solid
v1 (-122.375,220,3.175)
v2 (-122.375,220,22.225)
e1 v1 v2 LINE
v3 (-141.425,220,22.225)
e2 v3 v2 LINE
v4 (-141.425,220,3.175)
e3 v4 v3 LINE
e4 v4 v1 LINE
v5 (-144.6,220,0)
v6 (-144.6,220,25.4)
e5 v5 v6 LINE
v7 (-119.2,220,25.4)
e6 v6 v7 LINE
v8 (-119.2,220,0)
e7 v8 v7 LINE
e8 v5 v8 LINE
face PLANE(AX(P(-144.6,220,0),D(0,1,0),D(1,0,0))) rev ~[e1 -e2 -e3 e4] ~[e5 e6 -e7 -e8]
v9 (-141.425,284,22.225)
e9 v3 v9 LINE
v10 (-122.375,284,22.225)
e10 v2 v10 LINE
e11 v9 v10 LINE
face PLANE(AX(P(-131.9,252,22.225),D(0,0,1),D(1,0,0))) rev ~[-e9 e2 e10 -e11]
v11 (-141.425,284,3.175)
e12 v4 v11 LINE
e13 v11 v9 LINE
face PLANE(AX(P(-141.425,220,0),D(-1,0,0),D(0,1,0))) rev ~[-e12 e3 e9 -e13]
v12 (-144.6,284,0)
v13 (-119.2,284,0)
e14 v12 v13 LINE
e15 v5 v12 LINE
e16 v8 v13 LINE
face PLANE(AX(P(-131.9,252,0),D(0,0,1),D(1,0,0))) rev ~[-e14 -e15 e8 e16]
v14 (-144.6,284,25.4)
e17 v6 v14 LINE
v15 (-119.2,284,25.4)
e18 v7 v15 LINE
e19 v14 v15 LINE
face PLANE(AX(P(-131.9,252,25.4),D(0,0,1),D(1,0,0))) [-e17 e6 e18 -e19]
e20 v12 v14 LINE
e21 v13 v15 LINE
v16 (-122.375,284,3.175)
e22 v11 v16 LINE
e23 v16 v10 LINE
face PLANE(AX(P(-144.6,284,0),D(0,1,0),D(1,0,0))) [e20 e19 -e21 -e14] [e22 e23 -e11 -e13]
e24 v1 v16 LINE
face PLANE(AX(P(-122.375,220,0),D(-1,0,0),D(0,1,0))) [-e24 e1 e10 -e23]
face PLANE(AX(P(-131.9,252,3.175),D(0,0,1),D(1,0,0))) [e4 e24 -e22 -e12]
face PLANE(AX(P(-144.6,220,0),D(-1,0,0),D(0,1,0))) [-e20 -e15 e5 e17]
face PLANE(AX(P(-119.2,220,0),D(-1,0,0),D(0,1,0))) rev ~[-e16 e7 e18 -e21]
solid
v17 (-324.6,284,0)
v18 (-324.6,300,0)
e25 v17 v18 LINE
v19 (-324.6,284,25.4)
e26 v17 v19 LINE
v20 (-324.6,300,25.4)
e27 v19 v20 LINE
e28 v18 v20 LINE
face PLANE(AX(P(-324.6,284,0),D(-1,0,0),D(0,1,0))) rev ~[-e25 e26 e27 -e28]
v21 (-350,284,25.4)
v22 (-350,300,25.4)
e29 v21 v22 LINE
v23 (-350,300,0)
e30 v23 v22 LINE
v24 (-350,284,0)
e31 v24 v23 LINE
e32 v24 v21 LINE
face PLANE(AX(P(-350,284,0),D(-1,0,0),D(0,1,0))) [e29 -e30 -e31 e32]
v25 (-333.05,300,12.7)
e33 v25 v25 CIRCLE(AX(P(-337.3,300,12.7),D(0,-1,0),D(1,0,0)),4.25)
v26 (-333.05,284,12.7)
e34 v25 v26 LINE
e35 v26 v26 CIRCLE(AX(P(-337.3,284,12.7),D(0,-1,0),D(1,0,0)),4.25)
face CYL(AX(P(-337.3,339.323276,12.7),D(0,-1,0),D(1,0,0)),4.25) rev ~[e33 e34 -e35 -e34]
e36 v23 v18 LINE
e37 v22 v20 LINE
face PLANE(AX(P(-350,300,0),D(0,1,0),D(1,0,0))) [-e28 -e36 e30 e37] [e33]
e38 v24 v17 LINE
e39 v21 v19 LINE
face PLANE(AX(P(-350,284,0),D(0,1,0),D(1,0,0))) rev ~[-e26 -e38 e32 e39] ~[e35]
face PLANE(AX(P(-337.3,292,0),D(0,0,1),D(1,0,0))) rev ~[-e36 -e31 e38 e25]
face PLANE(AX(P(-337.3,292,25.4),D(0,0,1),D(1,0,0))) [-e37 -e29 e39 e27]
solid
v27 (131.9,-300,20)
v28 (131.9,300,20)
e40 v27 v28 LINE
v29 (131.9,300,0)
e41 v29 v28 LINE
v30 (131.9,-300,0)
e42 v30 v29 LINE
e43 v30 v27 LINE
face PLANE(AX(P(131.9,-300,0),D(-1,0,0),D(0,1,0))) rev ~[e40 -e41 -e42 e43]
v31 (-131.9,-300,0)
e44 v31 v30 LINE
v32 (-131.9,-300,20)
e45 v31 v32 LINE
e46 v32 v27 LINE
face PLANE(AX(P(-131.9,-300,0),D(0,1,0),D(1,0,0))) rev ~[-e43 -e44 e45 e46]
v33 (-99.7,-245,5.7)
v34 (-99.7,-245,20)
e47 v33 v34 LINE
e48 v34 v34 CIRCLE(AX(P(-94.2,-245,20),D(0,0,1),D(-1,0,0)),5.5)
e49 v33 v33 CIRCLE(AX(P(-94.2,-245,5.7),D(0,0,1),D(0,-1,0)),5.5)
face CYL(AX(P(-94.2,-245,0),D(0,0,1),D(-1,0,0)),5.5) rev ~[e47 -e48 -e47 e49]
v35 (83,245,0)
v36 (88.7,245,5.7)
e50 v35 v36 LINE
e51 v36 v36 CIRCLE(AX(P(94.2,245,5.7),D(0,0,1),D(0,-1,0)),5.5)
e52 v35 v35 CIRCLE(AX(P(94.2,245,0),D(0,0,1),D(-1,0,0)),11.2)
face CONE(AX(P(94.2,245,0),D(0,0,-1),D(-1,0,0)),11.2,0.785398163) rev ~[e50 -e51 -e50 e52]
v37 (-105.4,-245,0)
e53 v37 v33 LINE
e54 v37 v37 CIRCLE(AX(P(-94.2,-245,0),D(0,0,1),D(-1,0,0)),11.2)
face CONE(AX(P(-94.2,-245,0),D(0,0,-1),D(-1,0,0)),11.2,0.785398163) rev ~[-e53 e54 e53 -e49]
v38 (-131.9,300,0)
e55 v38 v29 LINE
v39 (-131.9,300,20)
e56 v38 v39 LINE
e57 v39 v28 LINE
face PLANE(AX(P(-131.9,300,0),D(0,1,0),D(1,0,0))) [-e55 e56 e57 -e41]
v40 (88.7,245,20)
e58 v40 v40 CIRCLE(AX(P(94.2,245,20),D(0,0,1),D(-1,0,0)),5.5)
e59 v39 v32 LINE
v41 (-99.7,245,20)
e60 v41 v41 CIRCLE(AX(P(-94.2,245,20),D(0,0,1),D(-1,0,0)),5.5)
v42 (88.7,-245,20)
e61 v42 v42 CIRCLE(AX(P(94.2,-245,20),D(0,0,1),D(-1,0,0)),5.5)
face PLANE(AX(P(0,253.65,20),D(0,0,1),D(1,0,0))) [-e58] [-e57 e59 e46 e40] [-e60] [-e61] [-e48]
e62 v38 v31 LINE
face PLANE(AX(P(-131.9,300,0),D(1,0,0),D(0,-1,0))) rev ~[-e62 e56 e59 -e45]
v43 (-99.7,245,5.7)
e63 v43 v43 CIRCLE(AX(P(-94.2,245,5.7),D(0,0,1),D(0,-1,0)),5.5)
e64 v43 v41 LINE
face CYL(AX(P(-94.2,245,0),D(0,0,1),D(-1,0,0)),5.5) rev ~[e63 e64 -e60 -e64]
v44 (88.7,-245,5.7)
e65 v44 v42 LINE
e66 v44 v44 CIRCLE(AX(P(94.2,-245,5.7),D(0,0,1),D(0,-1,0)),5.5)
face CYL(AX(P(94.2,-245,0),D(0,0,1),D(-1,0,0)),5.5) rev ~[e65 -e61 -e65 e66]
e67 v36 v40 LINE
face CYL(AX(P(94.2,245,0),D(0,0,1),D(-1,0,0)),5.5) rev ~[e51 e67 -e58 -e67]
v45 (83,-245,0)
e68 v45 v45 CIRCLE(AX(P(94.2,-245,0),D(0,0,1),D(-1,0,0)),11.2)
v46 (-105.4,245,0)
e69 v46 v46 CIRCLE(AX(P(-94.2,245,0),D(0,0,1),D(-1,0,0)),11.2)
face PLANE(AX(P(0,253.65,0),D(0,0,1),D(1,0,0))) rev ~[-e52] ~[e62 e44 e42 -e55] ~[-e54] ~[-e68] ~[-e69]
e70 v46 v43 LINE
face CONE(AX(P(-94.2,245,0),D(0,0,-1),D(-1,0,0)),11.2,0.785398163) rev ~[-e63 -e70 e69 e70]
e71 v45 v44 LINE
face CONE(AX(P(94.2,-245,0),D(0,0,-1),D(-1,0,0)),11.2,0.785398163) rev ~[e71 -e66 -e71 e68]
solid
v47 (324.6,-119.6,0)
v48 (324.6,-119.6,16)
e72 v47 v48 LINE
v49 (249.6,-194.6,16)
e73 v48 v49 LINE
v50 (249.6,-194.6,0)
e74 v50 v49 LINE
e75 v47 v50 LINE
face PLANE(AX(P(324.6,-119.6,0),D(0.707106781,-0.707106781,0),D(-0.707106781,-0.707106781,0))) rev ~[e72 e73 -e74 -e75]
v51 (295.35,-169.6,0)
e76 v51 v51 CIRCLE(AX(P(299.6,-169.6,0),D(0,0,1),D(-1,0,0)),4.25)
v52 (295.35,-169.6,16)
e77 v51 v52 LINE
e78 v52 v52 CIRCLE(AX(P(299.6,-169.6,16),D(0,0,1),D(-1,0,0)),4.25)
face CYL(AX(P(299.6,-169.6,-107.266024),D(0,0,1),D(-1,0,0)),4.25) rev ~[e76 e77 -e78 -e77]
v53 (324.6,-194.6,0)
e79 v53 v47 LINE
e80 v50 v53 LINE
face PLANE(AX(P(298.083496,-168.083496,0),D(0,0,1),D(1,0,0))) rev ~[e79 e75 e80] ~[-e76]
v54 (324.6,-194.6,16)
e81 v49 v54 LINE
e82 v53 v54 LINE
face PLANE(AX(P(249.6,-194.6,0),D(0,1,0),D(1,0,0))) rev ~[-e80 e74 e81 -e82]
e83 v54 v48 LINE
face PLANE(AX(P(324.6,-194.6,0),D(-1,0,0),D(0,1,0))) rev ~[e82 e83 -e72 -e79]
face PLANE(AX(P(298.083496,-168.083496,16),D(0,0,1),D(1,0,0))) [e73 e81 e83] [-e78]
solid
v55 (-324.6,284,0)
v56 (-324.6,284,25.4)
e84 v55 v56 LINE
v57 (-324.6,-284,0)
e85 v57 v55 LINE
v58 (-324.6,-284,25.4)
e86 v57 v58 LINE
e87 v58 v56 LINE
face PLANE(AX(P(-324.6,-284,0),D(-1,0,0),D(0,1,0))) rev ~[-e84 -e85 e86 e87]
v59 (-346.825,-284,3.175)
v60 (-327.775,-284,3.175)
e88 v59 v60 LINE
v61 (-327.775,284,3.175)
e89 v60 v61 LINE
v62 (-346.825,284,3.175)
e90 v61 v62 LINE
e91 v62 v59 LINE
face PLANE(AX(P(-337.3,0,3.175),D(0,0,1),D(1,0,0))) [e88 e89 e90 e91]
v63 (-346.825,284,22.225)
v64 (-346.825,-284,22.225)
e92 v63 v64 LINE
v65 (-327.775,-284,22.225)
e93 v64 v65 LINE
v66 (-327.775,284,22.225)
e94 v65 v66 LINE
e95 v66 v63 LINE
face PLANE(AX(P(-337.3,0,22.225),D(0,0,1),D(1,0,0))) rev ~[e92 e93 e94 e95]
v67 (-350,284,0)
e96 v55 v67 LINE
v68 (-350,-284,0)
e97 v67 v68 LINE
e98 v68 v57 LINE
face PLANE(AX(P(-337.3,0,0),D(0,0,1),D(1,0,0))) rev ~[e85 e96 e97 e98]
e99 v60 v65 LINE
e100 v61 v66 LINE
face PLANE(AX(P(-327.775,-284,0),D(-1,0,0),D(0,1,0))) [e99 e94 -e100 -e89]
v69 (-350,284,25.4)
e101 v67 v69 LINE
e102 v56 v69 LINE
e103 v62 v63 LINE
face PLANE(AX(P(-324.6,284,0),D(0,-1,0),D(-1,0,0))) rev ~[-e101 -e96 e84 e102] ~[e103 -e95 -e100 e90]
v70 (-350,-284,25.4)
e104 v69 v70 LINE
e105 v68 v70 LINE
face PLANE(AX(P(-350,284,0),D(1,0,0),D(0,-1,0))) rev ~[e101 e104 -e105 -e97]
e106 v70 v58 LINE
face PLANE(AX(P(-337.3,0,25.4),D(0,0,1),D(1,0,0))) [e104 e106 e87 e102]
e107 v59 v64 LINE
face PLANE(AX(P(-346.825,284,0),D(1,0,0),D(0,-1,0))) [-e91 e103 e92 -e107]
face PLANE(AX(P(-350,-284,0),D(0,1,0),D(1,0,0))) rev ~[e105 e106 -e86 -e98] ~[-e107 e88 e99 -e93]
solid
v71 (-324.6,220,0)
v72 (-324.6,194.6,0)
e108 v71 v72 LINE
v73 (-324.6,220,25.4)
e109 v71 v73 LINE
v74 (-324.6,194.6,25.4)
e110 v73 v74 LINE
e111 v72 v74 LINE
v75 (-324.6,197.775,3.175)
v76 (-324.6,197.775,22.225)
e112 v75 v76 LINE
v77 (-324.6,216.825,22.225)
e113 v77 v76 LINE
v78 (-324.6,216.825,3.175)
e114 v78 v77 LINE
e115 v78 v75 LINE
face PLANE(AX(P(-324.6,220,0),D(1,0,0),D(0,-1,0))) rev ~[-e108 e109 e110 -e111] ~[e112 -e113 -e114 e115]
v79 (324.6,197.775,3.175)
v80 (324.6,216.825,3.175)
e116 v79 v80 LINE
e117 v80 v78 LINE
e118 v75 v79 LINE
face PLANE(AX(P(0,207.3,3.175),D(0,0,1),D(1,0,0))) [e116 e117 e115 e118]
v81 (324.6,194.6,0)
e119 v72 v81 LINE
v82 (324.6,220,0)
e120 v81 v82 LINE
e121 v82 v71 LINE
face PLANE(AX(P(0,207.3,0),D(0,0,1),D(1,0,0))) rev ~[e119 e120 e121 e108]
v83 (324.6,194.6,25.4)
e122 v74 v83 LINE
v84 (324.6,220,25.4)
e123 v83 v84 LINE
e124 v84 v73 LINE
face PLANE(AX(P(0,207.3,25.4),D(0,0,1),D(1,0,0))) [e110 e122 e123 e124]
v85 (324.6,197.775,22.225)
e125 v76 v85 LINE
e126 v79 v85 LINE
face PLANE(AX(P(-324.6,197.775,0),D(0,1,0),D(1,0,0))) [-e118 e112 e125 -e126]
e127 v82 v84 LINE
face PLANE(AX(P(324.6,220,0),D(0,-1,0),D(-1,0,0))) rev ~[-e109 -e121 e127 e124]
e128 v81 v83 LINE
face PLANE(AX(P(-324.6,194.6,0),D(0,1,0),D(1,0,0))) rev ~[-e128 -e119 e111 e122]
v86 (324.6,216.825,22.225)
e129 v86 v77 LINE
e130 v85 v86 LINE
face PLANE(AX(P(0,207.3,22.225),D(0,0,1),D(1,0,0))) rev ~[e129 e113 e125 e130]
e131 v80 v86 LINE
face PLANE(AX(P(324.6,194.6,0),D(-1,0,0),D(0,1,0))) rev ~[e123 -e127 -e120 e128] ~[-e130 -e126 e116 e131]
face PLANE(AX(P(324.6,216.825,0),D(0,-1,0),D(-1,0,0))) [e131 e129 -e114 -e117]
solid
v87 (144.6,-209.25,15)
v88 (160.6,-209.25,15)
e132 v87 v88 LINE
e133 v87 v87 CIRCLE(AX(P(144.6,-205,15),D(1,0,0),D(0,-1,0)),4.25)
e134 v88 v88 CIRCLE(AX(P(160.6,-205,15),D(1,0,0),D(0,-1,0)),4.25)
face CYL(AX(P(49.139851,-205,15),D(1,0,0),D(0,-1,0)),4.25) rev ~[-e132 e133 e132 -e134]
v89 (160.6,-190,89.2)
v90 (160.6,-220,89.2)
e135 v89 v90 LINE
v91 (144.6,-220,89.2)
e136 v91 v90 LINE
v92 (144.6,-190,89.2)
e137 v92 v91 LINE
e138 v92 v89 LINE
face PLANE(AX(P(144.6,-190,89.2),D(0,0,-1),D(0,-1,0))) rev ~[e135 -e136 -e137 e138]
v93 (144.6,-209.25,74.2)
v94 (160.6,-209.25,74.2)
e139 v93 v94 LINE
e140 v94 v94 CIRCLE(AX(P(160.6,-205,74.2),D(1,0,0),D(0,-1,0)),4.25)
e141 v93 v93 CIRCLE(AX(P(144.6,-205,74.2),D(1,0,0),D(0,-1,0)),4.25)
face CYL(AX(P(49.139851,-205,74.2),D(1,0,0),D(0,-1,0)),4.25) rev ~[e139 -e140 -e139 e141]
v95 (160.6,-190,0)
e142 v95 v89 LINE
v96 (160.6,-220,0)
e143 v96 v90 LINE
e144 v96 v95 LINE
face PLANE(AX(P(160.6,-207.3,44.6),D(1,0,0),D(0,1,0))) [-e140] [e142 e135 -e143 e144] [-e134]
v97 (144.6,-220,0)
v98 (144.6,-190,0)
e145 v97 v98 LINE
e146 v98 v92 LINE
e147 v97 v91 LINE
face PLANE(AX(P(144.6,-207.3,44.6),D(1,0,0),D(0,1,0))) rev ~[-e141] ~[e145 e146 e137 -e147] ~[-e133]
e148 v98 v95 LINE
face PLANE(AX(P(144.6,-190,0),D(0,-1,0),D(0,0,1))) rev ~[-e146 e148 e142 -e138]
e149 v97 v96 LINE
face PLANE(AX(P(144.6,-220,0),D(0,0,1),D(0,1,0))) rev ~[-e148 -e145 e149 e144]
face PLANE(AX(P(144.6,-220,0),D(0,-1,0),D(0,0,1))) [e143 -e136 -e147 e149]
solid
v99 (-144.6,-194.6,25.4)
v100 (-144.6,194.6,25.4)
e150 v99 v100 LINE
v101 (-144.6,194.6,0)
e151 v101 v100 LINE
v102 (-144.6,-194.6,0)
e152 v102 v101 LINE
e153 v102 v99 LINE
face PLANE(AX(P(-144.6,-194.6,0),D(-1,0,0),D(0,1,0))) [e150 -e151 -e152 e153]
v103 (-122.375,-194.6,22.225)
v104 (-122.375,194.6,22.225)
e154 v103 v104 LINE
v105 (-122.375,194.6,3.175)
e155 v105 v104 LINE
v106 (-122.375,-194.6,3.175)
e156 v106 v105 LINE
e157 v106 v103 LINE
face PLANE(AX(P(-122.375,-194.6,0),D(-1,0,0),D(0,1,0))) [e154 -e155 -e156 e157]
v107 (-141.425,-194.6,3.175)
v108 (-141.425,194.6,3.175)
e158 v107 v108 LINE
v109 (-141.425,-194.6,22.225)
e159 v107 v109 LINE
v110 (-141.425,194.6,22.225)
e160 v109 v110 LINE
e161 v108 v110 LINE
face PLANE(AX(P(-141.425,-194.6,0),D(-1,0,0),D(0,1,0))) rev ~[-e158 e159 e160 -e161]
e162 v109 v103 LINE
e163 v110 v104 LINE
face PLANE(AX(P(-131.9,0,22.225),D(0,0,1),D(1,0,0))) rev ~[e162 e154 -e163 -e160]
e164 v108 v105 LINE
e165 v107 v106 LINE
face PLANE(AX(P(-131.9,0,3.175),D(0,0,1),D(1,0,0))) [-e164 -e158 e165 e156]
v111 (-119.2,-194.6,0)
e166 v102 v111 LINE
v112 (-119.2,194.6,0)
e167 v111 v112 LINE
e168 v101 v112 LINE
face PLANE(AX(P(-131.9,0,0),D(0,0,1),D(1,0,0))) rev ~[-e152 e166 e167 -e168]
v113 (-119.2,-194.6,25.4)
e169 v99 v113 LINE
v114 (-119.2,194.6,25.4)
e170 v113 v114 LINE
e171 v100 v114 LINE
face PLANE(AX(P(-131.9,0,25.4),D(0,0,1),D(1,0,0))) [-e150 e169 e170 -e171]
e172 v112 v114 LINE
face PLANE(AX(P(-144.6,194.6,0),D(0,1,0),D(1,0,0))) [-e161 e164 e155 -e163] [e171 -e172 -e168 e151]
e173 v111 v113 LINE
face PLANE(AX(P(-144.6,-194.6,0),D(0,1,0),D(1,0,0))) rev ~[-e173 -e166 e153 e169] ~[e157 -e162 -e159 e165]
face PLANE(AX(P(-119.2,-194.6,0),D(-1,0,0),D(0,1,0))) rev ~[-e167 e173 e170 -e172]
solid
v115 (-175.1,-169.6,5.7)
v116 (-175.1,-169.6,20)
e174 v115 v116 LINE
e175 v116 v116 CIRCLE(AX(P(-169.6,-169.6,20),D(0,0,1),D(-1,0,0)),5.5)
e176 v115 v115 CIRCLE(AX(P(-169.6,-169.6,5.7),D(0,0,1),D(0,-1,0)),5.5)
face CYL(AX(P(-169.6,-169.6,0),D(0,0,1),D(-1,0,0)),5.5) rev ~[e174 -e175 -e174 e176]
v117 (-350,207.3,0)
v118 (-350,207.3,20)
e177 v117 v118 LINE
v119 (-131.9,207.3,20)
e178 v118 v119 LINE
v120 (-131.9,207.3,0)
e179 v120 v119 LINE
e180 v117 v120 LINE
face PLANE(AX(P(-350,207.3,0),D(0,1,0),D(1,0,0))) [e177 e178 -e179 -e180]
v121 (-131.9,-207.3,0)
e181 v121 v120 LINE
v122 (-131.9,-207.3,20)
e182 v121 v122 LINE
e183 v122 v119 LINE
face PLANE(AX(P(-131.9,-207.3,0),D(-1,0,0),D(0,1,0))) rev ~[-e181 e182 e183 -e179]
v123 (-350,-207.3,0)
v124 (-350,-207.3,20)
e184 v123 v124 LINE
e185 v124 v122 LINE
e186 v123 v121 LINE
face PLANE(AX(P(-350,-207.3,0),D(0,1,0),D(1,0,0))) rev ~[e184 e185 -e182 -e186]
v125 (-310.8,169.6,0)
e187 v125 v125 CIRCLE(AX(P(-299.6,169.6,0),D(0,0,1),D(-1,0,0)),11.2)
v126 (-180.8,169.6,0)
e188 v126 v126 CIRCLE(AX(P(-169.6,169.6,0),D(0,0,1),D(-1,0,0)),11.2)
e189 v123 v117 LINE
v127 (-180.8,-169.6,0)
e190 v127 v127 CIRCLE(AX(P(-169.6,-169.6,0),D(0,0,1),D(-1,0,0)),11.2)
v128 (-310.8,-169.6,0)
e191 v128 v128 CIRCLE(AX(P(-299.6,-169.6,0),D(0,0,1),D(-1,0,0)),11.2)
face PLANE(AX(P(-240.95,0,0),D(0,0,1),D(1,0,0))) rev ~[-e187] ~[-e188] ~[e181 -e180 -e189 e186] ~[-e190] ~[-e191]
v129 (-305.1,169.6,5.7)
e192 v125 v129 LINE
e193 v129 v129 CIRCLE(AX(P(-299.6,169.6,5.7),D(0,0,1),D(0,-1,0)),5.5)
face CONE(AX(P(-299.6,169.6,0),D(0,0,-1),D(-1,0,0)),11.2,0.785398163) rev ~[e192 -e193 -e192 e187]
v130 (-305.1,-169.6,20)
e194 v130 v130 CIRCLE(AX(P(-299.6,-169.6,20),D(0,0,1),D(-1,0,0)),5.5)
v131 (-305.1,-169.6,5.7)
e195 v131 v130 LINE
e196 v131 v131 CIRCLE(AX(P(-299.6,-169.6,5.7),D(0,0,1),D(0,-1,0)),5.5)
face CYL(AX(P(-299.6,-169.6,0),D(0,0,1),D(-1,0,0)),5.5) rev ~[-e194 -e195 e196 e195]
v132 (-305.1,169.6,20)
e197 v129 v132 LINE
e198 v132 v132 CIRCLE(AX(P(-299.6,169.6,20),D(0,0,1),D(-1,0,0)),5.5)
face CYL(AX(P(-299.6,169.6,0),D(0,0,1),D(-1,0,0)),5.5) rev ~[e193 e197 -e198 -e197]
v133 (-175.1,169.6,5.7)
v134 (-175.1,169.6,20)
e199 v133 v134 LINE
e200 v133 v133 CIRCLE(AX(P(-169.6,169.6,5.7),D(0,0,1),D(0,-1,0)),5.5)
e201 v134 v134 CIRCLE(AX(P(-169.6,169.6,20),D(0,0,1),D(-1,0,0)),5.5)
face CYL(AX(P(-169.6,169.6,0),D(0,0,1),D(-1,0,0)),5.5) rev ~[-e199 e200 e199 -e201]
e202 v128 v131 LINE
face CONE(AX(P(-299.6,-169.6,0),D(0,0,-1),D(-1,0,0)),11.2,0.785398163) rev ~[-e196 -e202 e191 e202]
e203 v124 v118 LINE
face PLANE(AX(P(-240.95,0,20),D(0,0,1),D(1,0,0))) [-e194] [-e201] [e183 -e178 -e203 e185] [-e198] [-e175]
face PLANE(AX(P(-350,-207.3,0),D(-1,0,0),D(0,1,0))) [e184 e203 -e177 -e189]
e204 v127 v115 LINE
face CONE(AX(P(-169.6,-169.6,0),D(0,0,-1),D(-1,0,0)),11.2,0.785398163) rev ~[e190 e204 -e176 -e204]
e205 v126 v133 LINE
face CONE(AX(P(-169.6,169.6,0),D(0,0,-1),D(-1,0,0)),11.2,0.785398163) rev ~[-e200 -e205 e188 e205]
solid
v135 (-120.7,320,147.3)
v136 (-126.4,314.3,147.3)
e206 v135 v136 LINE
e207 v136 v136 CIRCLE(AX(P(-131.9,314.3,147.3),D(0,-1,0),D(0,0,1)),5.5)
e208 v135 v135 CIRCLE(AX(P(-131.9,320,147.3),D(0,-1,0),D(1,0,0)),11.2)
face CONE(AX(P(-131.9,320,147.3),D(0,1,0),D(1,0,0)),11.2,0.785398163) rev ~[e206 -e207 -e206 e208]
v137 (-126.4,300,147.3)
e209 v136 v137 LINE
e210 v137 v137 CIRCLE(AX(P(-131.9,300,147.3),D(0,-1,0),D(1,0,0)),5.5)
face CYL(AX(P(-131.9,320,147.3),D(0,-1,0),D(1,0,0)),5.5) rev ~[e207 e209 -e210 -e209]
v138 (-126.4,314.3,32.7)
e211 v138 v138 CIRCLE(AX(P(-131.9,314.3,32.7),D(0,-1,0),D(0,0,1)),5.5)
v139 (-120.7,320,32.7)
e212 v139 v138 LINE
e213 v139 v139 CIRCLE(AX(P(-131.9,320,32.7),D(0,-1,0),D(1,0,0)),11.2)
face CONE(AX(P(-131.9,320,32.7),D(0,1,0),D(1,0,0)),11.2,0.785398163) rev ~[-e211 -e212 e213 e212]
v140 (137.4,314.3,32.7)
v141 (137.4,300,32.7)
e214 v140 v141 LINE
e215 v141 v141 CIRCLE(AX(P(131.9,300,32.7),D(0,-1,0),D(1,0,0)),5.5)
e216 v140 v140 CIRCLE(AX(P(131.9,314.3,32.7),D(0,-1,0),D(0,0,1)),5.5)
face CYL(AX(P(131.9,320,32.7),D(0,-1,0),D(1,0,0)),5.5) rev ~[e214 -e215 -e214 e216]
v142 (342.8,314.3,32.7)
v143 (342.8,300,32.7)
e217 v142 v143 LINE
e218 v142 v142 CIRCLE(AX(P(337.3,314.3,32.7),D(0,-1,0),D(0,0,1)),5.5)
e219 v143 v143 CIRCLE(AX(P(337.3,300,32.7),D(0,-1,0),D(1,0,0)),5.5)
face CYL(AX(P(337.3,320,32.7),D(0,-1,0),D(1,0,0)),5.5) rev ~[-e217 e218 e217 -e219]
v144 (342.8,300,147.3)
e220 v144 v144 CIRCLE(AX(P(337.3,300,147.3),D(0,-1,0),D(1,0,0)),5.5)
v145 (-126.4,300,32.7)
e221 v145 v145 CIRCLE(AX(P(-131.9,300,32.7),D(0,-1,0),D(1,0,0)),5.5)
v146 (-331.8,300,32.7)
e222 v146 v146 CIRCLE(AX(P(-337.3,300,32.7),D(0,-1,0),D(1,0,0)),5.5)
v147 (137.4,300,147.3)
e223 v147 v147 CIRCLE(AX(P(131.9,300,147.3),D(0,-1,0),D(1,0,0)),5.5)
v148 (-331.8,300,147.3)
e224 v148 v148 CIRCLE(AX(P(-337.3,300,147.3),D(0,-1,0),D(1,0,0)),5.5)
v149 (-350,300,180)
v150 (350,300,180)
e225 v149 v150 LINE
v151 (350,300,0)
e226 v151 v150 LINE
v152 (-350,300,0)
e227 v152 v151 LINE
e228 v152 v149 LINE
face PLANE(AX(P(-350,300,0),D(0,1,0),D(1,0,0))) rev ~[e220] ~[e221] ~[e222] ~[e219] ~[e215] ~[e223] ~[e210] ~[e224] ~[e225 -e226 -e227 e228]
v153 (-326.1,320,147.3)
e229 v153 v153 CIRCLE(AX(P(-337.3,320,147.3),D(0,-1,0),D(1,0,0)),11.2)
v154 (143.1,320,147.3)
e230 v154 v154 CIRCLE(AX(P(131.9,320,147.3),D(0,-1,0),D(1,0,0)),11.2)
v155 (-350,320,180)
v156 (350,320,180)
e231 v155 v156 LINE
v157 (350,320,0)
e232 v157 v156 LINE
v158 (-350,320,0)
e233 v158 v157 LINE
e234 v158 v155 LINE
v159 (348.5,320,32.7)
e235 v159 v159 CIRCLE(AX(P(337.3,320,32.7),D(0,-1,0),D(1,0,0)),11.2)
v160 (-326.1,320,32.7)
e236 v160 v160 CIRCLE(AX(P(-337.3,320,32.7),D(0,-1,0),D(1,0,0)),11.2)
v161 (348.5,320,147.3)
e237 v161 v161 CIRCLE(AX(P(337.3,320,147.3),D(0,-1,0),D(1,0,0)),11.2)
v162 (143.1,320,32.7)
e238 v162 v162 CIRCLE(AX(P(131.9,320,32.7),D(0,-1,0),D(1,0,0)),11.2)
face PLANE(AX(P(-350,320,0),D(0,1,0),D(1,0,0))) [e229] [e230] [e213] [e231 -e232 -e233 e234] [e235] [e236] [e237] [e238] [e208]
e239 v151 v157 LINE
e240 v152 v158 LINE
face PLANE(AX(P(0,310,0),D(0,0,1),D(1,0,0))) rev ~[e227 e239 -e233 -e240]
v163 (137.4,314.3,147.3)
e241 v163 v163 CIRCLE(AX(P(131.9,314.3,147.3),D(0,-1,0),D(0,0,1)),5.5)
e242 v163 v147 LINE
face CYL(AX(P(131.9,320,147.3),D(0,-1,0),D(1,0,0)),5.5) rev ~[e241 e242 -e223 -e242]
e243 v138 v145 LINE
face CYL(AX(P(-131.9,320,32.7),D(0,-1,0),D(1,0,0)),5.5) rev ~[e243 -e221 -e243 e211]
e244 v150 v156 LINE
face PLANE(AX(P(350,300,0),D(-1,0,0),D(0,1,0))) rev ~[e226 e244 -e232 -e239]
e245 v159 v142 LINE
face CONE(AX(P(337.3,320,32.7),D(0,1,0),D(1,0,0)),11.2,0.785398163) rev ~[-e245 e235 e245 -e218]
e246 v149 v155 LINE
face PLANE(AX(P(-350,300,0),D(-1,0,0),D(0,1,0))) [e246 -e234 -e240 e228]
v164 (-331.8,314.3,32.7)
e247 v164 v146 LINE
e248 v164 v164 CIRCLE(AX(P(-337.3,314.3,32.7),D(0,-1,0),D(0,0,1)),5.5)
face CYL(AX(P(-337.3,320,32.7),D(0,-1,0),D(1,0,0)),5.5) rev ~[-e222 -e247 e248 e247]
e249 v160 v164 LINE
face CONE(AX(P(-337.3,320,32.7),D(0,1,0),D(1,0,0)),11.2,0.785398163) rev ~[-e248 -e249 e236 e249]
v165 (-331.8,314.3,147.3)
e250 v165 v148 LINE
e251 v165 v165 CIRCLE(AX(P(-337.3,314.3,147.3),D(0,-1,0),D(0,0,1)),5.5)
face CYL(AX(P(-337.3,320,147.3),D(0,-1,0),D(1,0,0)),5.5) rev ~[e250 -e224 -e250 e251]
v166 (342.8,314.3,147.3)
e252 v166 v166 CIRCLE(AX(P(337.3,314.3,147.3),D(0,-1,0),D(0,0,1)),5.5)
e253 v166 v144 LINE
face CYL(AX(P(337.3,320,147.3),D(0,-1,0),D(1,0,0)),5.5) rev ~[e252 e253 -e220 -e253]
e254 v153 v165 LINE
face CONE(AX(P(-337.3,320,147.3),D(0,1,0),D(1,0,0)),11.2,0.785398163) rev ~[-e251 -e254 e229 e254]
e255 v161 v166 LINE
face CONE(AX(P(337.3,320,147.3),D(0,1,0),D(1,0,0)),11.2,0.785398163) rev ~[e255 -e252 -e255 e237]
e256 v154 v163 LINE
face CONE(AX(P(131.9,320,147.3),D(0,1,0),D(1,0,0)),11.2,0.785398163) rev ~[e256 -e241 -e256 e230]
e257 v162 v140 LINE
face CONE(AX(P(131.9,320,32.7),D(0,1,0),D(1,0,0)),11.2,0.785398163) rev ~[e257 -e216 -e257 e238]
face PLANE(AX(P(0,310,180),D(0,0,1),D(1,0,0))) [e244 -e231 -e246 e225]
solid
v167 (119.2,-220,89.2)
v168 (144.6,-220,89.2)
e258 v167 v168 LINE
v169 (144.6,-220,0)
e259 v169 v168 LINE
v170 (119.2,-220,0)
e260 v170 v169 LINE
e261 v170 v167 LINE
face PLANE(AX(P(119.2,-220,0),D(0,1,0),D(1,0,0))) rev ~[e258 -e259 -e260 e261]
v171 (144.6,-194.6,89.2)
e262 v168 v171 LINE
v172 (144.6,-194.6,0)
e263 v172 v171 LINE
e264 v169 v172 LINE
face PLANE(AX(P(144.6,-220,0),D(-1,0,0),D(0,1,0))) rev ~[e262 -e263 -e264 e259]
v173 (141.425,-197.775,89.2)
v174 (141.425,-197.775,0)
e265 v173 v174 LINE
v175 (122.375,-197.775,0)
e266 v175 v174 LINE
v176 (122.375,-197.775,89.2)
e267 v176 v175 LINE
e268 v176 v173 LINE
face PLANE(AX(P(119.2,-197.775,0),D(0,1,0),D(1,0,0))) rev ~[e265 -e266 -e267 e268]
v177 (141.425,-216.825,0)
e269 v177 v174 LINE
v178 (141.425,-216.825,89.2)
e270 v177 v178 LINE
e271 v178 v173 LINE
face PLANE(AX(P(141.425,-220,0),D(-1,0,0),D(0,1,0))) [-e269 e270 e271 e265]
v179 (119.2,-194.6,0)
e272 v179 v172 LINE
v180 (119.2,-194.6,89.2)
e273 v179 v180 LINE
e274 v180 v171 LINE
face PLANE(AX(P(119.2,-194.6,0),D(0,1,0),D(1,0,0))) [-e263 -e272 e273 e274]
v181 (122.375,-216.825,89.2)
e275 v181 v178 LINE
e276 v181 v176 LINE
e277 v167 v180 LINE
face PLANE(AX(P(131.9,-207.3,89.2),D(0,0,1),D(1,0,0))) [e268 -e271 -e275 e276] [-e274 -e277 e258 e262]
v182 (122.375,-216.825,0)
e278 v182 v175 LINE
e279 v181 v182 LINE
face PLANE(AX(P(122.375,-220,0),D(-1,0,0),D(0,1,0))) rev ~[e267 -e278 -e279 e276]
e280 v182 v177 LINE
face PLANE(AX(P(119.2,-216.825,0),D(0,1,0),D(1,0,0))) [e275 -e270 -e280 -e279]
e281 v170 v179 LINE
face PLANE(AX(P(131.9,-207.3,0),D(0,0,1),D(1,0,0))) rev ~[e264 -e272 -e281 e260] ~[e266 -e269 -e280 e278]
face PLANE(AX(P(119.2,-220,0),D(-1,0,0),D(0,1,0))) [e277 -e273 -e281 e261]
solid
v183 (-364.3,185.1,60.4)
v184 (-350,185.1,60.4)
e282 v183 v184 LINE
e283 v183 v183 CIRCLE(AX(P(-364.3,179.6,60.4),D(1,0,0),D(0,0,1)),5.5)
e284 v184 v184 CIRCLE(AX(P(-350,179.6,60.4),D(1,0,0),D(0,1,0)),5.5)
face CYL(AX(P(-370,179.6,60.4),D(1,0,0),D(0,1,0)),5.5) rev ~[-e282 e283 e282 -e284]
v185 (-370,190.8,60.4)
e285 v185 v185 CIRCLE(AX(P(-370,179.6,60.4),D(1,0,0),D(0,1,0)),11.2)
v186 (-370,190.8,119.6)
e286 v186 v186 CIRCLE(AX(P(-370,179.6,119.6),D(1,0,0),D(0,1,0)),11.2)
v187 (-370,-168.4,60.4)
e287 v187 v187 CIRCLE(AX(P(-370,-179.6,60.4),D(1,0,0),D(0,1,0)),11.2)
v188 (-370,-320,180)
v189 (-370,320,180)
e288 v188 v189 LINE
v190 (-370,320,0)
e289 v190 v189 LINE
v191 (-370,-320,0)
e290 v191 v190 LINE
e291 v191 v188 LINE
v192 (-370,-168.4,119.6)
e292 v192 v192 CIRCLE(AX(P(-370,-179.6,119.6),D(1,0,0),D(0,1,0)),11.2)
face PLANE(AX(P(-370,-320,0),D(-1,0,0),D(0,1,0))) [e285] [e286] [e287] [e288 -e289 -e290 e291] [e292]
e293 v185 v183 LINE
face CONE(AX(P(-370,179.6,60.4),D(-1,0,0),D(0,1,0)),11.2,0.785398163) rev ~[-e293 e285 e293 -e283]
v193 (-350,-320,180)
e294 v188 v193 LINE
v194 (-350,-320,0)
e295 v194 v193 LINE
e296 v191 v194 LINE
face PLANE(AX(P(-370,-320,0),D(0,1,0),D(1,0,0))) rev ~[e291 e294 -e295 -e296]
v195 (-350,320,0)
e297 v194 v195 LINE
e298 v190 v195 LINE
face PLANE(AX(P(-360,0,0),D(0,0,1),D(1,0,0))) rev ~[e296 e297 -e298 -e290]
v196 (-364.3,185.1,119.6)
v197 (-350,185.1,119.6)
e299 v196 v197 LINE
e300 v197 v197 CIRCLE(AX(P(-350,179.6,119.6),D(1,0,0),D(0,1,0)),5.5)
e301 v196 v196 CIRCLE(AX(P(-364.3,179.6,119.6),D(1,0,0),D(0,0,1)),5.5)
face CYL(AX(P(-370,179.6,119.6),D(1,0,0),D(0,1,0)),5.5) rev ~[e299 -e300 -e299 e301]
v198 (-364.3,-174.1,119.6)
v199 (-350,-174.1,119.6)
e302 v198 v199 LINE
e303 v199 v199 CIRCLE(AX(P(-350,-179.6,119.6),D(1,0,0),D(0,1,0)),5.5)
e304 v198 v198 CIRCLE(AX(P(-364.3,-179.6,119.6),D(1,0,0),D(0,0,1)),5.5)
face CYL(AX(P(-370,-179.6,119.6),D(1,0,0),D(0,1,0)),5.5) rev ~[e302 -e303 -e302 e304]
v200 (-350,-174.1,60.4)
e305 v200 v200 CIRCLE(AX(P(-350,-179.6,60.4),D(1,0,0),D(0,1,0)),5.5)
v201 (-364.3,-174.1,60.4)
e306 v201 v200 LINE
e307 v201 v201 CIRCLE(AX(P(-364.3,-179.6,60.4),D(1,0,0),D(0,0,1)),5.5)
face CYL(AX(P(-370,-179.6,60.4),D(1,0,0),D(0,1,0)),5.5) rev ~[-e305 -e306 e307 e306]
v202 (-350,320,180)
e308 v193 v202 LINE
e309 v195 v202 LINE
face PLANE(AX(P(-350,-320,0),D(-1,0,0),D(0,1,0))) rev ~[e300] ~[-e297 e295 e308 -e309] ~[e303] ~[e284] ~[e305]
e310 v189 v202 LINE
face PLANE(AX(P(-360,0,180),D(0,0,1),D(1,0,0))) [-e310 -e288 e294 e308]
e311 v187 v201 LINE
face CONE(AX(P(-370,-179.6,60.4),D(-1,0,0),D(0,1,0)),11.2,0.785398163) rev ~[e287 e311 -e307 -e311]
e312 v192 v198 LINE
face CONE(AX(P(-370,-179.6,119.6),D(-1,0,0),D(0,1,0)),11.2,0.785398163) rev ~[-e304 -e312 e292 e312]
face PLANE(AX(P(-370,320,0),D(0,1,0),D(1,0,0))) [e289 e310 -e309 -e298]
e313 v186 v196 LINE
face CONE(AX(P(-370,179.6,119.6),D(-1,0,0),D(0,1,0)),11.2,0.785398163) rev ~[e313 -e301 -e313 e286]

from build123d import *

# Parameters (mm, degrees)
F1_DEPTH        = 25.4
F2_DEPTH        = 25.4
F0_W            = 25.4
F0_H            = 64
F3_DEPTH        = 25.4
F0_H_2          = 389.2
F4_DEPTH        = 25.4
F5_T            = -3.175
F6_T            = -3.175
F7_T            = -3.175
F8_T            = -3.175
F0_H_3          = 16
F9_DEPTH        = 25.4
F11_D           = 8.5
F13_DEPTH       = 16
F14_D           = 8.5
F15_W           = 700
F15_H           = 20
F16_DEPTH       = 180
F18_D           = 11
F18_CSINK_D     = 22.4
F18_CSINK_ANGLE = 90
F19_W           = 20
F19_H           = 640
F20_DEPTH       = 180
F21_W           = 218.1
F21_H           = 414.6
F22_DEPTH       = 20
F21_W_2         = 263.8
F21_H_2         = 92.7
F23_DEPTH       = 20
F24_D           = 11
F24_CSINK_D     = 22.4
F24_CSINK_ANGLE = 90
F25_D           = 11
F25_CSINK_D     = 22.4
F25_CSINK_ANGLE = 90
F26_W           = 25.4
F26_H           = 25.4
F27_DEPTH       = 89.2
F28_T           = -3.175
F29_W           = 25.4
F29_H           = 89.2
F29_W_2         = 4.6
F30_DEPTH       = 16
F31_D           = 8.5
F33_D           = 11
F33_CSINK_D     = 22.4
F33_CSINK_ANGLE = 90


with BuildPart() as f1:
    # F0 (on Top) → F1 (new body)
    with BuildSketch(Plane.XY):
        Polygon((-350, -284), (-324.6, -284), (-324.6, -220), (-324.6, -194.6), (-324.6, 194.6), (-324.6, 220), (-324.6, 284), (-350, 284), align=None)
    extrude(amount=F1_DEPTH)

    # F5
    f5_openings = [f1.faces().sort_by_distance(p)[0] for p in [
        (-337.3, 284, 12.7),
        (-337.3, -284, 12.7),
    ]]
    offset(amount=F5_T, openings=f5_openings)


with BuildPart() as f2:
    # F0 (on Top) → F2 (new body)
    with BuildSketch(Plane.XY):
        Polygon((324.6, 194.6), (324.6, 220), (144.6, 220), (119.2, 220), (-119.2, 220), (-144.6, 220), (-324.6, 220), (-324.6, 194.6), (-144.6, 194.6), (-119.2, 194.6), (119.2, 194.6), (144.6, 194.6), align=None)
    extrude(amount=F2_DEPTH)

    # F6
    f6_openings = [f2.faces().sort_by_distance(p)[0] for p in [
        (-324.6, 207.3, 12.7),
        (324.6, 207.3, 12.7),
    ]]
    offset(amount=F6_T, openings=f6_openings)


with BuildPart() as f3:
    # F0 (on Top) → F3 (new body)
    with BuildSketch(Plane.XY):
        with Locations((-131.9, 252)):
            Rectangle(F0_W, F0_H)
    extrude(amount=F3_DEPTH)

    # F7
    f7_openings = [f3.faces().sort_by_distance(p)[0] for p in [
        (-131.9, 284, 12.7),
        (-131.9, 220, 12.7),
    ]]
    offset(amount=F7_T, openings=f7_openings)


with BuildPart() as f4:
    # F0 (on Top) → F4 (new body)
    with BuildSketch(Plane.XY):
        with Locations((-131.9, 0)):
            Rectangle(F0_W, F0_H_2)
    extrude(amount=F4_DEPTH)

    # F8
    f8_openings = [f4.faces().sort_by_distance(p)[0] for p in [
        (-131.9, -194.6, 12.7),
        (-131.9, 194.6, 12.7),
    ]]
    offset(amount=F8_T, openings=f8_openings)


with BuildPart() as f9:
    # F0 (on Top) → F9 (new body)
    with BuildSketch(Plane.XY):
        with Locations((-337.3, 292)):
            Rectangle(F0_W, F0_H_3)
    extrude(amount=F9_DEPTH)

    # F11 (through all)
    with Locations(Plane(origin=(0, 300, 0), x_dir=(-1, 0, 0), z_dir=(0, 1, 0))):
        with Locations((337.3, 12.7)):
            Hole(F11_D / 2)


with BuildPart() as f13:
    # F12 (on Top) → F13 (new body)
    with BuildSketch(Plane.XY):
        Polygon((324.6, -119.6), (249.6, -194.6), (324.6, -194.6), align=None)
    extrude(amount=F13_DEPTH)

    # F14 (through all)
    with Locations(Plane(origin=(0, 0, 0), x_dir=(1, 0, 0), z_dir=(0, 0, -1))):
        with Locations((299.6, 169.6)):
            Hole(F14_D / 2)


with BuildPart() as f16:
    # F15 (on face) → F16 (new body)
    with BuildSketch(Plane.XY):
        with Locations((0, 310)):
            Rectangle(F15_W, F15_H)
    extrude(amount=F16_DEPTH)

    # F18 (through all)
    with Locations(Plane(origin=(0, 320, 0), x_dir=(-1, 0, 0), z_dir=(0, 1, 0))):
        with Locations((-131.9, 147.3), (-131.9, 32.7), (-337.3, 147.3), (-337.3, 32.7), (131.9, 147.3), (131.9, 32.7), (337.3, 147.3), (337.3, 32.7)):
            CounterSinkHole(F18_D / 2, F18_CSINK_D / 2, counter_sink_angle=F18_CSINK_ANGLE)


with BuildPart() as f20:
    # F19 (on Top) → F20 (new body)
    with BuildSketch(Plane.XY):
        with Locations((-360, 0)):
            Rectangle(F19_W, F19_H)
    extrude(amount=F20_DEPTH)

    # F33 (through all)
    with Locations(Plane(origin=(-370, 0, 0), x_dir=(0, -1, 0), z_dir=(-1, 0, 0))):
        with Locations((-179.6, 119.6), (-179.6, 60.4), (179.6, 119.6), (179.6, 60.4)):
            CounterSinkHole(F33_D / 2, F33_CSINK_D / 2, counter_sink_angle=F33_CSINK_ANGLE)


with BuildPart() as f22:
    # F21 (on Top) → F22 (new body)
    with BuildSketch(Plane.XY):
        with Locations((-240.95, 0)):
            Rectangle(F21_W, F21_H)
    extrude(amount=F22_DEPTH)

    # F24 (through all)
    with Locations(Plane(origin=(0, 0, 0), x_dir=(1, 0, 0), z_dir=(0, 0, -1))):
        with Locations((-299.6, -169.6), (-169.6, -169.6), (-169.6, 169.6), (-299.6, 169.6)):
            CounterSinkHole(F24_D / 2, F24_CSINK_D / 2, counter_sink_angle=F24_CSINK_ANGLE)


with BuildPart() as f23:
    # F21 (on Top) → F23 (new body)
    with BuildSketch(Plane.XY):
        with Locations((0, 253.65)):
            Rectangle(F21_W_2, F21_H_2)
        Rectangle(F21_W_2, F21_H)
        with Locations((0, -253.65)):
            Rectangle(F21_W_2, F21_H_2)
    extrude(amount=F23_DEPTH)

    # F25 (through all)
    with Locations(Plane(origin=(0, 0, 0), x_dir=(1, 0, 0), z_dir=(0, 0, -1))):
        with Locations((-94.2, -245), (94.2, -245), (-94.2, 245), (94.2, 245)):
            CounterSinkHole(F25_D / 2, F25_CSINK_D / 2, counter_sink_angle=F25_CSINK_ANGLE)


with BuildPart() as f27:
    # F26 (on Top) → F27 (new body)
    with BuildSketch(Plane.XY):
        with Locations((131.9, -207.3)):
            Rectangle(F26_W, F26_H)
    extrude(amount=F27_DEPTH)

    # F28
    f28_openings = [f27.faces().sort_by_distance(p)[0] for p in [
        (131.9, -207.3, 89.2),
        (131.9, -207.3, 0),
    ]]
    offset(amount=F28_T, openings=f28_openings)


with BuildPart() as f30:
    # F29 (on face) → F30 (new body)
    with BuildSketch(Plane.YZ.offset(144.6)):
        with Locations((-207.3, 44.6)):
            Rectangle(F29_W, F29_H)
        with Locations((-192.3, 44.6)):
            Rectangle(F29_W_2, F29_H)
    extrude(amount=F30_DEPTH)

    # F31 (through all)
    with Locations(Plane(origin=(144.6, 0, 0), x_dir=(0, 1, 0), z_dir=(-1, 0, 0))):
        with Locations((-205, -74.2), (-205, -15)):
            Hole(F31_D / 2)


solid = Compound([f1.part, f2.part, f3.part, f4.part, f9.part, f13.part, f16.part, f20.part, f22.part, f23.part, f27.part, f30.part])
